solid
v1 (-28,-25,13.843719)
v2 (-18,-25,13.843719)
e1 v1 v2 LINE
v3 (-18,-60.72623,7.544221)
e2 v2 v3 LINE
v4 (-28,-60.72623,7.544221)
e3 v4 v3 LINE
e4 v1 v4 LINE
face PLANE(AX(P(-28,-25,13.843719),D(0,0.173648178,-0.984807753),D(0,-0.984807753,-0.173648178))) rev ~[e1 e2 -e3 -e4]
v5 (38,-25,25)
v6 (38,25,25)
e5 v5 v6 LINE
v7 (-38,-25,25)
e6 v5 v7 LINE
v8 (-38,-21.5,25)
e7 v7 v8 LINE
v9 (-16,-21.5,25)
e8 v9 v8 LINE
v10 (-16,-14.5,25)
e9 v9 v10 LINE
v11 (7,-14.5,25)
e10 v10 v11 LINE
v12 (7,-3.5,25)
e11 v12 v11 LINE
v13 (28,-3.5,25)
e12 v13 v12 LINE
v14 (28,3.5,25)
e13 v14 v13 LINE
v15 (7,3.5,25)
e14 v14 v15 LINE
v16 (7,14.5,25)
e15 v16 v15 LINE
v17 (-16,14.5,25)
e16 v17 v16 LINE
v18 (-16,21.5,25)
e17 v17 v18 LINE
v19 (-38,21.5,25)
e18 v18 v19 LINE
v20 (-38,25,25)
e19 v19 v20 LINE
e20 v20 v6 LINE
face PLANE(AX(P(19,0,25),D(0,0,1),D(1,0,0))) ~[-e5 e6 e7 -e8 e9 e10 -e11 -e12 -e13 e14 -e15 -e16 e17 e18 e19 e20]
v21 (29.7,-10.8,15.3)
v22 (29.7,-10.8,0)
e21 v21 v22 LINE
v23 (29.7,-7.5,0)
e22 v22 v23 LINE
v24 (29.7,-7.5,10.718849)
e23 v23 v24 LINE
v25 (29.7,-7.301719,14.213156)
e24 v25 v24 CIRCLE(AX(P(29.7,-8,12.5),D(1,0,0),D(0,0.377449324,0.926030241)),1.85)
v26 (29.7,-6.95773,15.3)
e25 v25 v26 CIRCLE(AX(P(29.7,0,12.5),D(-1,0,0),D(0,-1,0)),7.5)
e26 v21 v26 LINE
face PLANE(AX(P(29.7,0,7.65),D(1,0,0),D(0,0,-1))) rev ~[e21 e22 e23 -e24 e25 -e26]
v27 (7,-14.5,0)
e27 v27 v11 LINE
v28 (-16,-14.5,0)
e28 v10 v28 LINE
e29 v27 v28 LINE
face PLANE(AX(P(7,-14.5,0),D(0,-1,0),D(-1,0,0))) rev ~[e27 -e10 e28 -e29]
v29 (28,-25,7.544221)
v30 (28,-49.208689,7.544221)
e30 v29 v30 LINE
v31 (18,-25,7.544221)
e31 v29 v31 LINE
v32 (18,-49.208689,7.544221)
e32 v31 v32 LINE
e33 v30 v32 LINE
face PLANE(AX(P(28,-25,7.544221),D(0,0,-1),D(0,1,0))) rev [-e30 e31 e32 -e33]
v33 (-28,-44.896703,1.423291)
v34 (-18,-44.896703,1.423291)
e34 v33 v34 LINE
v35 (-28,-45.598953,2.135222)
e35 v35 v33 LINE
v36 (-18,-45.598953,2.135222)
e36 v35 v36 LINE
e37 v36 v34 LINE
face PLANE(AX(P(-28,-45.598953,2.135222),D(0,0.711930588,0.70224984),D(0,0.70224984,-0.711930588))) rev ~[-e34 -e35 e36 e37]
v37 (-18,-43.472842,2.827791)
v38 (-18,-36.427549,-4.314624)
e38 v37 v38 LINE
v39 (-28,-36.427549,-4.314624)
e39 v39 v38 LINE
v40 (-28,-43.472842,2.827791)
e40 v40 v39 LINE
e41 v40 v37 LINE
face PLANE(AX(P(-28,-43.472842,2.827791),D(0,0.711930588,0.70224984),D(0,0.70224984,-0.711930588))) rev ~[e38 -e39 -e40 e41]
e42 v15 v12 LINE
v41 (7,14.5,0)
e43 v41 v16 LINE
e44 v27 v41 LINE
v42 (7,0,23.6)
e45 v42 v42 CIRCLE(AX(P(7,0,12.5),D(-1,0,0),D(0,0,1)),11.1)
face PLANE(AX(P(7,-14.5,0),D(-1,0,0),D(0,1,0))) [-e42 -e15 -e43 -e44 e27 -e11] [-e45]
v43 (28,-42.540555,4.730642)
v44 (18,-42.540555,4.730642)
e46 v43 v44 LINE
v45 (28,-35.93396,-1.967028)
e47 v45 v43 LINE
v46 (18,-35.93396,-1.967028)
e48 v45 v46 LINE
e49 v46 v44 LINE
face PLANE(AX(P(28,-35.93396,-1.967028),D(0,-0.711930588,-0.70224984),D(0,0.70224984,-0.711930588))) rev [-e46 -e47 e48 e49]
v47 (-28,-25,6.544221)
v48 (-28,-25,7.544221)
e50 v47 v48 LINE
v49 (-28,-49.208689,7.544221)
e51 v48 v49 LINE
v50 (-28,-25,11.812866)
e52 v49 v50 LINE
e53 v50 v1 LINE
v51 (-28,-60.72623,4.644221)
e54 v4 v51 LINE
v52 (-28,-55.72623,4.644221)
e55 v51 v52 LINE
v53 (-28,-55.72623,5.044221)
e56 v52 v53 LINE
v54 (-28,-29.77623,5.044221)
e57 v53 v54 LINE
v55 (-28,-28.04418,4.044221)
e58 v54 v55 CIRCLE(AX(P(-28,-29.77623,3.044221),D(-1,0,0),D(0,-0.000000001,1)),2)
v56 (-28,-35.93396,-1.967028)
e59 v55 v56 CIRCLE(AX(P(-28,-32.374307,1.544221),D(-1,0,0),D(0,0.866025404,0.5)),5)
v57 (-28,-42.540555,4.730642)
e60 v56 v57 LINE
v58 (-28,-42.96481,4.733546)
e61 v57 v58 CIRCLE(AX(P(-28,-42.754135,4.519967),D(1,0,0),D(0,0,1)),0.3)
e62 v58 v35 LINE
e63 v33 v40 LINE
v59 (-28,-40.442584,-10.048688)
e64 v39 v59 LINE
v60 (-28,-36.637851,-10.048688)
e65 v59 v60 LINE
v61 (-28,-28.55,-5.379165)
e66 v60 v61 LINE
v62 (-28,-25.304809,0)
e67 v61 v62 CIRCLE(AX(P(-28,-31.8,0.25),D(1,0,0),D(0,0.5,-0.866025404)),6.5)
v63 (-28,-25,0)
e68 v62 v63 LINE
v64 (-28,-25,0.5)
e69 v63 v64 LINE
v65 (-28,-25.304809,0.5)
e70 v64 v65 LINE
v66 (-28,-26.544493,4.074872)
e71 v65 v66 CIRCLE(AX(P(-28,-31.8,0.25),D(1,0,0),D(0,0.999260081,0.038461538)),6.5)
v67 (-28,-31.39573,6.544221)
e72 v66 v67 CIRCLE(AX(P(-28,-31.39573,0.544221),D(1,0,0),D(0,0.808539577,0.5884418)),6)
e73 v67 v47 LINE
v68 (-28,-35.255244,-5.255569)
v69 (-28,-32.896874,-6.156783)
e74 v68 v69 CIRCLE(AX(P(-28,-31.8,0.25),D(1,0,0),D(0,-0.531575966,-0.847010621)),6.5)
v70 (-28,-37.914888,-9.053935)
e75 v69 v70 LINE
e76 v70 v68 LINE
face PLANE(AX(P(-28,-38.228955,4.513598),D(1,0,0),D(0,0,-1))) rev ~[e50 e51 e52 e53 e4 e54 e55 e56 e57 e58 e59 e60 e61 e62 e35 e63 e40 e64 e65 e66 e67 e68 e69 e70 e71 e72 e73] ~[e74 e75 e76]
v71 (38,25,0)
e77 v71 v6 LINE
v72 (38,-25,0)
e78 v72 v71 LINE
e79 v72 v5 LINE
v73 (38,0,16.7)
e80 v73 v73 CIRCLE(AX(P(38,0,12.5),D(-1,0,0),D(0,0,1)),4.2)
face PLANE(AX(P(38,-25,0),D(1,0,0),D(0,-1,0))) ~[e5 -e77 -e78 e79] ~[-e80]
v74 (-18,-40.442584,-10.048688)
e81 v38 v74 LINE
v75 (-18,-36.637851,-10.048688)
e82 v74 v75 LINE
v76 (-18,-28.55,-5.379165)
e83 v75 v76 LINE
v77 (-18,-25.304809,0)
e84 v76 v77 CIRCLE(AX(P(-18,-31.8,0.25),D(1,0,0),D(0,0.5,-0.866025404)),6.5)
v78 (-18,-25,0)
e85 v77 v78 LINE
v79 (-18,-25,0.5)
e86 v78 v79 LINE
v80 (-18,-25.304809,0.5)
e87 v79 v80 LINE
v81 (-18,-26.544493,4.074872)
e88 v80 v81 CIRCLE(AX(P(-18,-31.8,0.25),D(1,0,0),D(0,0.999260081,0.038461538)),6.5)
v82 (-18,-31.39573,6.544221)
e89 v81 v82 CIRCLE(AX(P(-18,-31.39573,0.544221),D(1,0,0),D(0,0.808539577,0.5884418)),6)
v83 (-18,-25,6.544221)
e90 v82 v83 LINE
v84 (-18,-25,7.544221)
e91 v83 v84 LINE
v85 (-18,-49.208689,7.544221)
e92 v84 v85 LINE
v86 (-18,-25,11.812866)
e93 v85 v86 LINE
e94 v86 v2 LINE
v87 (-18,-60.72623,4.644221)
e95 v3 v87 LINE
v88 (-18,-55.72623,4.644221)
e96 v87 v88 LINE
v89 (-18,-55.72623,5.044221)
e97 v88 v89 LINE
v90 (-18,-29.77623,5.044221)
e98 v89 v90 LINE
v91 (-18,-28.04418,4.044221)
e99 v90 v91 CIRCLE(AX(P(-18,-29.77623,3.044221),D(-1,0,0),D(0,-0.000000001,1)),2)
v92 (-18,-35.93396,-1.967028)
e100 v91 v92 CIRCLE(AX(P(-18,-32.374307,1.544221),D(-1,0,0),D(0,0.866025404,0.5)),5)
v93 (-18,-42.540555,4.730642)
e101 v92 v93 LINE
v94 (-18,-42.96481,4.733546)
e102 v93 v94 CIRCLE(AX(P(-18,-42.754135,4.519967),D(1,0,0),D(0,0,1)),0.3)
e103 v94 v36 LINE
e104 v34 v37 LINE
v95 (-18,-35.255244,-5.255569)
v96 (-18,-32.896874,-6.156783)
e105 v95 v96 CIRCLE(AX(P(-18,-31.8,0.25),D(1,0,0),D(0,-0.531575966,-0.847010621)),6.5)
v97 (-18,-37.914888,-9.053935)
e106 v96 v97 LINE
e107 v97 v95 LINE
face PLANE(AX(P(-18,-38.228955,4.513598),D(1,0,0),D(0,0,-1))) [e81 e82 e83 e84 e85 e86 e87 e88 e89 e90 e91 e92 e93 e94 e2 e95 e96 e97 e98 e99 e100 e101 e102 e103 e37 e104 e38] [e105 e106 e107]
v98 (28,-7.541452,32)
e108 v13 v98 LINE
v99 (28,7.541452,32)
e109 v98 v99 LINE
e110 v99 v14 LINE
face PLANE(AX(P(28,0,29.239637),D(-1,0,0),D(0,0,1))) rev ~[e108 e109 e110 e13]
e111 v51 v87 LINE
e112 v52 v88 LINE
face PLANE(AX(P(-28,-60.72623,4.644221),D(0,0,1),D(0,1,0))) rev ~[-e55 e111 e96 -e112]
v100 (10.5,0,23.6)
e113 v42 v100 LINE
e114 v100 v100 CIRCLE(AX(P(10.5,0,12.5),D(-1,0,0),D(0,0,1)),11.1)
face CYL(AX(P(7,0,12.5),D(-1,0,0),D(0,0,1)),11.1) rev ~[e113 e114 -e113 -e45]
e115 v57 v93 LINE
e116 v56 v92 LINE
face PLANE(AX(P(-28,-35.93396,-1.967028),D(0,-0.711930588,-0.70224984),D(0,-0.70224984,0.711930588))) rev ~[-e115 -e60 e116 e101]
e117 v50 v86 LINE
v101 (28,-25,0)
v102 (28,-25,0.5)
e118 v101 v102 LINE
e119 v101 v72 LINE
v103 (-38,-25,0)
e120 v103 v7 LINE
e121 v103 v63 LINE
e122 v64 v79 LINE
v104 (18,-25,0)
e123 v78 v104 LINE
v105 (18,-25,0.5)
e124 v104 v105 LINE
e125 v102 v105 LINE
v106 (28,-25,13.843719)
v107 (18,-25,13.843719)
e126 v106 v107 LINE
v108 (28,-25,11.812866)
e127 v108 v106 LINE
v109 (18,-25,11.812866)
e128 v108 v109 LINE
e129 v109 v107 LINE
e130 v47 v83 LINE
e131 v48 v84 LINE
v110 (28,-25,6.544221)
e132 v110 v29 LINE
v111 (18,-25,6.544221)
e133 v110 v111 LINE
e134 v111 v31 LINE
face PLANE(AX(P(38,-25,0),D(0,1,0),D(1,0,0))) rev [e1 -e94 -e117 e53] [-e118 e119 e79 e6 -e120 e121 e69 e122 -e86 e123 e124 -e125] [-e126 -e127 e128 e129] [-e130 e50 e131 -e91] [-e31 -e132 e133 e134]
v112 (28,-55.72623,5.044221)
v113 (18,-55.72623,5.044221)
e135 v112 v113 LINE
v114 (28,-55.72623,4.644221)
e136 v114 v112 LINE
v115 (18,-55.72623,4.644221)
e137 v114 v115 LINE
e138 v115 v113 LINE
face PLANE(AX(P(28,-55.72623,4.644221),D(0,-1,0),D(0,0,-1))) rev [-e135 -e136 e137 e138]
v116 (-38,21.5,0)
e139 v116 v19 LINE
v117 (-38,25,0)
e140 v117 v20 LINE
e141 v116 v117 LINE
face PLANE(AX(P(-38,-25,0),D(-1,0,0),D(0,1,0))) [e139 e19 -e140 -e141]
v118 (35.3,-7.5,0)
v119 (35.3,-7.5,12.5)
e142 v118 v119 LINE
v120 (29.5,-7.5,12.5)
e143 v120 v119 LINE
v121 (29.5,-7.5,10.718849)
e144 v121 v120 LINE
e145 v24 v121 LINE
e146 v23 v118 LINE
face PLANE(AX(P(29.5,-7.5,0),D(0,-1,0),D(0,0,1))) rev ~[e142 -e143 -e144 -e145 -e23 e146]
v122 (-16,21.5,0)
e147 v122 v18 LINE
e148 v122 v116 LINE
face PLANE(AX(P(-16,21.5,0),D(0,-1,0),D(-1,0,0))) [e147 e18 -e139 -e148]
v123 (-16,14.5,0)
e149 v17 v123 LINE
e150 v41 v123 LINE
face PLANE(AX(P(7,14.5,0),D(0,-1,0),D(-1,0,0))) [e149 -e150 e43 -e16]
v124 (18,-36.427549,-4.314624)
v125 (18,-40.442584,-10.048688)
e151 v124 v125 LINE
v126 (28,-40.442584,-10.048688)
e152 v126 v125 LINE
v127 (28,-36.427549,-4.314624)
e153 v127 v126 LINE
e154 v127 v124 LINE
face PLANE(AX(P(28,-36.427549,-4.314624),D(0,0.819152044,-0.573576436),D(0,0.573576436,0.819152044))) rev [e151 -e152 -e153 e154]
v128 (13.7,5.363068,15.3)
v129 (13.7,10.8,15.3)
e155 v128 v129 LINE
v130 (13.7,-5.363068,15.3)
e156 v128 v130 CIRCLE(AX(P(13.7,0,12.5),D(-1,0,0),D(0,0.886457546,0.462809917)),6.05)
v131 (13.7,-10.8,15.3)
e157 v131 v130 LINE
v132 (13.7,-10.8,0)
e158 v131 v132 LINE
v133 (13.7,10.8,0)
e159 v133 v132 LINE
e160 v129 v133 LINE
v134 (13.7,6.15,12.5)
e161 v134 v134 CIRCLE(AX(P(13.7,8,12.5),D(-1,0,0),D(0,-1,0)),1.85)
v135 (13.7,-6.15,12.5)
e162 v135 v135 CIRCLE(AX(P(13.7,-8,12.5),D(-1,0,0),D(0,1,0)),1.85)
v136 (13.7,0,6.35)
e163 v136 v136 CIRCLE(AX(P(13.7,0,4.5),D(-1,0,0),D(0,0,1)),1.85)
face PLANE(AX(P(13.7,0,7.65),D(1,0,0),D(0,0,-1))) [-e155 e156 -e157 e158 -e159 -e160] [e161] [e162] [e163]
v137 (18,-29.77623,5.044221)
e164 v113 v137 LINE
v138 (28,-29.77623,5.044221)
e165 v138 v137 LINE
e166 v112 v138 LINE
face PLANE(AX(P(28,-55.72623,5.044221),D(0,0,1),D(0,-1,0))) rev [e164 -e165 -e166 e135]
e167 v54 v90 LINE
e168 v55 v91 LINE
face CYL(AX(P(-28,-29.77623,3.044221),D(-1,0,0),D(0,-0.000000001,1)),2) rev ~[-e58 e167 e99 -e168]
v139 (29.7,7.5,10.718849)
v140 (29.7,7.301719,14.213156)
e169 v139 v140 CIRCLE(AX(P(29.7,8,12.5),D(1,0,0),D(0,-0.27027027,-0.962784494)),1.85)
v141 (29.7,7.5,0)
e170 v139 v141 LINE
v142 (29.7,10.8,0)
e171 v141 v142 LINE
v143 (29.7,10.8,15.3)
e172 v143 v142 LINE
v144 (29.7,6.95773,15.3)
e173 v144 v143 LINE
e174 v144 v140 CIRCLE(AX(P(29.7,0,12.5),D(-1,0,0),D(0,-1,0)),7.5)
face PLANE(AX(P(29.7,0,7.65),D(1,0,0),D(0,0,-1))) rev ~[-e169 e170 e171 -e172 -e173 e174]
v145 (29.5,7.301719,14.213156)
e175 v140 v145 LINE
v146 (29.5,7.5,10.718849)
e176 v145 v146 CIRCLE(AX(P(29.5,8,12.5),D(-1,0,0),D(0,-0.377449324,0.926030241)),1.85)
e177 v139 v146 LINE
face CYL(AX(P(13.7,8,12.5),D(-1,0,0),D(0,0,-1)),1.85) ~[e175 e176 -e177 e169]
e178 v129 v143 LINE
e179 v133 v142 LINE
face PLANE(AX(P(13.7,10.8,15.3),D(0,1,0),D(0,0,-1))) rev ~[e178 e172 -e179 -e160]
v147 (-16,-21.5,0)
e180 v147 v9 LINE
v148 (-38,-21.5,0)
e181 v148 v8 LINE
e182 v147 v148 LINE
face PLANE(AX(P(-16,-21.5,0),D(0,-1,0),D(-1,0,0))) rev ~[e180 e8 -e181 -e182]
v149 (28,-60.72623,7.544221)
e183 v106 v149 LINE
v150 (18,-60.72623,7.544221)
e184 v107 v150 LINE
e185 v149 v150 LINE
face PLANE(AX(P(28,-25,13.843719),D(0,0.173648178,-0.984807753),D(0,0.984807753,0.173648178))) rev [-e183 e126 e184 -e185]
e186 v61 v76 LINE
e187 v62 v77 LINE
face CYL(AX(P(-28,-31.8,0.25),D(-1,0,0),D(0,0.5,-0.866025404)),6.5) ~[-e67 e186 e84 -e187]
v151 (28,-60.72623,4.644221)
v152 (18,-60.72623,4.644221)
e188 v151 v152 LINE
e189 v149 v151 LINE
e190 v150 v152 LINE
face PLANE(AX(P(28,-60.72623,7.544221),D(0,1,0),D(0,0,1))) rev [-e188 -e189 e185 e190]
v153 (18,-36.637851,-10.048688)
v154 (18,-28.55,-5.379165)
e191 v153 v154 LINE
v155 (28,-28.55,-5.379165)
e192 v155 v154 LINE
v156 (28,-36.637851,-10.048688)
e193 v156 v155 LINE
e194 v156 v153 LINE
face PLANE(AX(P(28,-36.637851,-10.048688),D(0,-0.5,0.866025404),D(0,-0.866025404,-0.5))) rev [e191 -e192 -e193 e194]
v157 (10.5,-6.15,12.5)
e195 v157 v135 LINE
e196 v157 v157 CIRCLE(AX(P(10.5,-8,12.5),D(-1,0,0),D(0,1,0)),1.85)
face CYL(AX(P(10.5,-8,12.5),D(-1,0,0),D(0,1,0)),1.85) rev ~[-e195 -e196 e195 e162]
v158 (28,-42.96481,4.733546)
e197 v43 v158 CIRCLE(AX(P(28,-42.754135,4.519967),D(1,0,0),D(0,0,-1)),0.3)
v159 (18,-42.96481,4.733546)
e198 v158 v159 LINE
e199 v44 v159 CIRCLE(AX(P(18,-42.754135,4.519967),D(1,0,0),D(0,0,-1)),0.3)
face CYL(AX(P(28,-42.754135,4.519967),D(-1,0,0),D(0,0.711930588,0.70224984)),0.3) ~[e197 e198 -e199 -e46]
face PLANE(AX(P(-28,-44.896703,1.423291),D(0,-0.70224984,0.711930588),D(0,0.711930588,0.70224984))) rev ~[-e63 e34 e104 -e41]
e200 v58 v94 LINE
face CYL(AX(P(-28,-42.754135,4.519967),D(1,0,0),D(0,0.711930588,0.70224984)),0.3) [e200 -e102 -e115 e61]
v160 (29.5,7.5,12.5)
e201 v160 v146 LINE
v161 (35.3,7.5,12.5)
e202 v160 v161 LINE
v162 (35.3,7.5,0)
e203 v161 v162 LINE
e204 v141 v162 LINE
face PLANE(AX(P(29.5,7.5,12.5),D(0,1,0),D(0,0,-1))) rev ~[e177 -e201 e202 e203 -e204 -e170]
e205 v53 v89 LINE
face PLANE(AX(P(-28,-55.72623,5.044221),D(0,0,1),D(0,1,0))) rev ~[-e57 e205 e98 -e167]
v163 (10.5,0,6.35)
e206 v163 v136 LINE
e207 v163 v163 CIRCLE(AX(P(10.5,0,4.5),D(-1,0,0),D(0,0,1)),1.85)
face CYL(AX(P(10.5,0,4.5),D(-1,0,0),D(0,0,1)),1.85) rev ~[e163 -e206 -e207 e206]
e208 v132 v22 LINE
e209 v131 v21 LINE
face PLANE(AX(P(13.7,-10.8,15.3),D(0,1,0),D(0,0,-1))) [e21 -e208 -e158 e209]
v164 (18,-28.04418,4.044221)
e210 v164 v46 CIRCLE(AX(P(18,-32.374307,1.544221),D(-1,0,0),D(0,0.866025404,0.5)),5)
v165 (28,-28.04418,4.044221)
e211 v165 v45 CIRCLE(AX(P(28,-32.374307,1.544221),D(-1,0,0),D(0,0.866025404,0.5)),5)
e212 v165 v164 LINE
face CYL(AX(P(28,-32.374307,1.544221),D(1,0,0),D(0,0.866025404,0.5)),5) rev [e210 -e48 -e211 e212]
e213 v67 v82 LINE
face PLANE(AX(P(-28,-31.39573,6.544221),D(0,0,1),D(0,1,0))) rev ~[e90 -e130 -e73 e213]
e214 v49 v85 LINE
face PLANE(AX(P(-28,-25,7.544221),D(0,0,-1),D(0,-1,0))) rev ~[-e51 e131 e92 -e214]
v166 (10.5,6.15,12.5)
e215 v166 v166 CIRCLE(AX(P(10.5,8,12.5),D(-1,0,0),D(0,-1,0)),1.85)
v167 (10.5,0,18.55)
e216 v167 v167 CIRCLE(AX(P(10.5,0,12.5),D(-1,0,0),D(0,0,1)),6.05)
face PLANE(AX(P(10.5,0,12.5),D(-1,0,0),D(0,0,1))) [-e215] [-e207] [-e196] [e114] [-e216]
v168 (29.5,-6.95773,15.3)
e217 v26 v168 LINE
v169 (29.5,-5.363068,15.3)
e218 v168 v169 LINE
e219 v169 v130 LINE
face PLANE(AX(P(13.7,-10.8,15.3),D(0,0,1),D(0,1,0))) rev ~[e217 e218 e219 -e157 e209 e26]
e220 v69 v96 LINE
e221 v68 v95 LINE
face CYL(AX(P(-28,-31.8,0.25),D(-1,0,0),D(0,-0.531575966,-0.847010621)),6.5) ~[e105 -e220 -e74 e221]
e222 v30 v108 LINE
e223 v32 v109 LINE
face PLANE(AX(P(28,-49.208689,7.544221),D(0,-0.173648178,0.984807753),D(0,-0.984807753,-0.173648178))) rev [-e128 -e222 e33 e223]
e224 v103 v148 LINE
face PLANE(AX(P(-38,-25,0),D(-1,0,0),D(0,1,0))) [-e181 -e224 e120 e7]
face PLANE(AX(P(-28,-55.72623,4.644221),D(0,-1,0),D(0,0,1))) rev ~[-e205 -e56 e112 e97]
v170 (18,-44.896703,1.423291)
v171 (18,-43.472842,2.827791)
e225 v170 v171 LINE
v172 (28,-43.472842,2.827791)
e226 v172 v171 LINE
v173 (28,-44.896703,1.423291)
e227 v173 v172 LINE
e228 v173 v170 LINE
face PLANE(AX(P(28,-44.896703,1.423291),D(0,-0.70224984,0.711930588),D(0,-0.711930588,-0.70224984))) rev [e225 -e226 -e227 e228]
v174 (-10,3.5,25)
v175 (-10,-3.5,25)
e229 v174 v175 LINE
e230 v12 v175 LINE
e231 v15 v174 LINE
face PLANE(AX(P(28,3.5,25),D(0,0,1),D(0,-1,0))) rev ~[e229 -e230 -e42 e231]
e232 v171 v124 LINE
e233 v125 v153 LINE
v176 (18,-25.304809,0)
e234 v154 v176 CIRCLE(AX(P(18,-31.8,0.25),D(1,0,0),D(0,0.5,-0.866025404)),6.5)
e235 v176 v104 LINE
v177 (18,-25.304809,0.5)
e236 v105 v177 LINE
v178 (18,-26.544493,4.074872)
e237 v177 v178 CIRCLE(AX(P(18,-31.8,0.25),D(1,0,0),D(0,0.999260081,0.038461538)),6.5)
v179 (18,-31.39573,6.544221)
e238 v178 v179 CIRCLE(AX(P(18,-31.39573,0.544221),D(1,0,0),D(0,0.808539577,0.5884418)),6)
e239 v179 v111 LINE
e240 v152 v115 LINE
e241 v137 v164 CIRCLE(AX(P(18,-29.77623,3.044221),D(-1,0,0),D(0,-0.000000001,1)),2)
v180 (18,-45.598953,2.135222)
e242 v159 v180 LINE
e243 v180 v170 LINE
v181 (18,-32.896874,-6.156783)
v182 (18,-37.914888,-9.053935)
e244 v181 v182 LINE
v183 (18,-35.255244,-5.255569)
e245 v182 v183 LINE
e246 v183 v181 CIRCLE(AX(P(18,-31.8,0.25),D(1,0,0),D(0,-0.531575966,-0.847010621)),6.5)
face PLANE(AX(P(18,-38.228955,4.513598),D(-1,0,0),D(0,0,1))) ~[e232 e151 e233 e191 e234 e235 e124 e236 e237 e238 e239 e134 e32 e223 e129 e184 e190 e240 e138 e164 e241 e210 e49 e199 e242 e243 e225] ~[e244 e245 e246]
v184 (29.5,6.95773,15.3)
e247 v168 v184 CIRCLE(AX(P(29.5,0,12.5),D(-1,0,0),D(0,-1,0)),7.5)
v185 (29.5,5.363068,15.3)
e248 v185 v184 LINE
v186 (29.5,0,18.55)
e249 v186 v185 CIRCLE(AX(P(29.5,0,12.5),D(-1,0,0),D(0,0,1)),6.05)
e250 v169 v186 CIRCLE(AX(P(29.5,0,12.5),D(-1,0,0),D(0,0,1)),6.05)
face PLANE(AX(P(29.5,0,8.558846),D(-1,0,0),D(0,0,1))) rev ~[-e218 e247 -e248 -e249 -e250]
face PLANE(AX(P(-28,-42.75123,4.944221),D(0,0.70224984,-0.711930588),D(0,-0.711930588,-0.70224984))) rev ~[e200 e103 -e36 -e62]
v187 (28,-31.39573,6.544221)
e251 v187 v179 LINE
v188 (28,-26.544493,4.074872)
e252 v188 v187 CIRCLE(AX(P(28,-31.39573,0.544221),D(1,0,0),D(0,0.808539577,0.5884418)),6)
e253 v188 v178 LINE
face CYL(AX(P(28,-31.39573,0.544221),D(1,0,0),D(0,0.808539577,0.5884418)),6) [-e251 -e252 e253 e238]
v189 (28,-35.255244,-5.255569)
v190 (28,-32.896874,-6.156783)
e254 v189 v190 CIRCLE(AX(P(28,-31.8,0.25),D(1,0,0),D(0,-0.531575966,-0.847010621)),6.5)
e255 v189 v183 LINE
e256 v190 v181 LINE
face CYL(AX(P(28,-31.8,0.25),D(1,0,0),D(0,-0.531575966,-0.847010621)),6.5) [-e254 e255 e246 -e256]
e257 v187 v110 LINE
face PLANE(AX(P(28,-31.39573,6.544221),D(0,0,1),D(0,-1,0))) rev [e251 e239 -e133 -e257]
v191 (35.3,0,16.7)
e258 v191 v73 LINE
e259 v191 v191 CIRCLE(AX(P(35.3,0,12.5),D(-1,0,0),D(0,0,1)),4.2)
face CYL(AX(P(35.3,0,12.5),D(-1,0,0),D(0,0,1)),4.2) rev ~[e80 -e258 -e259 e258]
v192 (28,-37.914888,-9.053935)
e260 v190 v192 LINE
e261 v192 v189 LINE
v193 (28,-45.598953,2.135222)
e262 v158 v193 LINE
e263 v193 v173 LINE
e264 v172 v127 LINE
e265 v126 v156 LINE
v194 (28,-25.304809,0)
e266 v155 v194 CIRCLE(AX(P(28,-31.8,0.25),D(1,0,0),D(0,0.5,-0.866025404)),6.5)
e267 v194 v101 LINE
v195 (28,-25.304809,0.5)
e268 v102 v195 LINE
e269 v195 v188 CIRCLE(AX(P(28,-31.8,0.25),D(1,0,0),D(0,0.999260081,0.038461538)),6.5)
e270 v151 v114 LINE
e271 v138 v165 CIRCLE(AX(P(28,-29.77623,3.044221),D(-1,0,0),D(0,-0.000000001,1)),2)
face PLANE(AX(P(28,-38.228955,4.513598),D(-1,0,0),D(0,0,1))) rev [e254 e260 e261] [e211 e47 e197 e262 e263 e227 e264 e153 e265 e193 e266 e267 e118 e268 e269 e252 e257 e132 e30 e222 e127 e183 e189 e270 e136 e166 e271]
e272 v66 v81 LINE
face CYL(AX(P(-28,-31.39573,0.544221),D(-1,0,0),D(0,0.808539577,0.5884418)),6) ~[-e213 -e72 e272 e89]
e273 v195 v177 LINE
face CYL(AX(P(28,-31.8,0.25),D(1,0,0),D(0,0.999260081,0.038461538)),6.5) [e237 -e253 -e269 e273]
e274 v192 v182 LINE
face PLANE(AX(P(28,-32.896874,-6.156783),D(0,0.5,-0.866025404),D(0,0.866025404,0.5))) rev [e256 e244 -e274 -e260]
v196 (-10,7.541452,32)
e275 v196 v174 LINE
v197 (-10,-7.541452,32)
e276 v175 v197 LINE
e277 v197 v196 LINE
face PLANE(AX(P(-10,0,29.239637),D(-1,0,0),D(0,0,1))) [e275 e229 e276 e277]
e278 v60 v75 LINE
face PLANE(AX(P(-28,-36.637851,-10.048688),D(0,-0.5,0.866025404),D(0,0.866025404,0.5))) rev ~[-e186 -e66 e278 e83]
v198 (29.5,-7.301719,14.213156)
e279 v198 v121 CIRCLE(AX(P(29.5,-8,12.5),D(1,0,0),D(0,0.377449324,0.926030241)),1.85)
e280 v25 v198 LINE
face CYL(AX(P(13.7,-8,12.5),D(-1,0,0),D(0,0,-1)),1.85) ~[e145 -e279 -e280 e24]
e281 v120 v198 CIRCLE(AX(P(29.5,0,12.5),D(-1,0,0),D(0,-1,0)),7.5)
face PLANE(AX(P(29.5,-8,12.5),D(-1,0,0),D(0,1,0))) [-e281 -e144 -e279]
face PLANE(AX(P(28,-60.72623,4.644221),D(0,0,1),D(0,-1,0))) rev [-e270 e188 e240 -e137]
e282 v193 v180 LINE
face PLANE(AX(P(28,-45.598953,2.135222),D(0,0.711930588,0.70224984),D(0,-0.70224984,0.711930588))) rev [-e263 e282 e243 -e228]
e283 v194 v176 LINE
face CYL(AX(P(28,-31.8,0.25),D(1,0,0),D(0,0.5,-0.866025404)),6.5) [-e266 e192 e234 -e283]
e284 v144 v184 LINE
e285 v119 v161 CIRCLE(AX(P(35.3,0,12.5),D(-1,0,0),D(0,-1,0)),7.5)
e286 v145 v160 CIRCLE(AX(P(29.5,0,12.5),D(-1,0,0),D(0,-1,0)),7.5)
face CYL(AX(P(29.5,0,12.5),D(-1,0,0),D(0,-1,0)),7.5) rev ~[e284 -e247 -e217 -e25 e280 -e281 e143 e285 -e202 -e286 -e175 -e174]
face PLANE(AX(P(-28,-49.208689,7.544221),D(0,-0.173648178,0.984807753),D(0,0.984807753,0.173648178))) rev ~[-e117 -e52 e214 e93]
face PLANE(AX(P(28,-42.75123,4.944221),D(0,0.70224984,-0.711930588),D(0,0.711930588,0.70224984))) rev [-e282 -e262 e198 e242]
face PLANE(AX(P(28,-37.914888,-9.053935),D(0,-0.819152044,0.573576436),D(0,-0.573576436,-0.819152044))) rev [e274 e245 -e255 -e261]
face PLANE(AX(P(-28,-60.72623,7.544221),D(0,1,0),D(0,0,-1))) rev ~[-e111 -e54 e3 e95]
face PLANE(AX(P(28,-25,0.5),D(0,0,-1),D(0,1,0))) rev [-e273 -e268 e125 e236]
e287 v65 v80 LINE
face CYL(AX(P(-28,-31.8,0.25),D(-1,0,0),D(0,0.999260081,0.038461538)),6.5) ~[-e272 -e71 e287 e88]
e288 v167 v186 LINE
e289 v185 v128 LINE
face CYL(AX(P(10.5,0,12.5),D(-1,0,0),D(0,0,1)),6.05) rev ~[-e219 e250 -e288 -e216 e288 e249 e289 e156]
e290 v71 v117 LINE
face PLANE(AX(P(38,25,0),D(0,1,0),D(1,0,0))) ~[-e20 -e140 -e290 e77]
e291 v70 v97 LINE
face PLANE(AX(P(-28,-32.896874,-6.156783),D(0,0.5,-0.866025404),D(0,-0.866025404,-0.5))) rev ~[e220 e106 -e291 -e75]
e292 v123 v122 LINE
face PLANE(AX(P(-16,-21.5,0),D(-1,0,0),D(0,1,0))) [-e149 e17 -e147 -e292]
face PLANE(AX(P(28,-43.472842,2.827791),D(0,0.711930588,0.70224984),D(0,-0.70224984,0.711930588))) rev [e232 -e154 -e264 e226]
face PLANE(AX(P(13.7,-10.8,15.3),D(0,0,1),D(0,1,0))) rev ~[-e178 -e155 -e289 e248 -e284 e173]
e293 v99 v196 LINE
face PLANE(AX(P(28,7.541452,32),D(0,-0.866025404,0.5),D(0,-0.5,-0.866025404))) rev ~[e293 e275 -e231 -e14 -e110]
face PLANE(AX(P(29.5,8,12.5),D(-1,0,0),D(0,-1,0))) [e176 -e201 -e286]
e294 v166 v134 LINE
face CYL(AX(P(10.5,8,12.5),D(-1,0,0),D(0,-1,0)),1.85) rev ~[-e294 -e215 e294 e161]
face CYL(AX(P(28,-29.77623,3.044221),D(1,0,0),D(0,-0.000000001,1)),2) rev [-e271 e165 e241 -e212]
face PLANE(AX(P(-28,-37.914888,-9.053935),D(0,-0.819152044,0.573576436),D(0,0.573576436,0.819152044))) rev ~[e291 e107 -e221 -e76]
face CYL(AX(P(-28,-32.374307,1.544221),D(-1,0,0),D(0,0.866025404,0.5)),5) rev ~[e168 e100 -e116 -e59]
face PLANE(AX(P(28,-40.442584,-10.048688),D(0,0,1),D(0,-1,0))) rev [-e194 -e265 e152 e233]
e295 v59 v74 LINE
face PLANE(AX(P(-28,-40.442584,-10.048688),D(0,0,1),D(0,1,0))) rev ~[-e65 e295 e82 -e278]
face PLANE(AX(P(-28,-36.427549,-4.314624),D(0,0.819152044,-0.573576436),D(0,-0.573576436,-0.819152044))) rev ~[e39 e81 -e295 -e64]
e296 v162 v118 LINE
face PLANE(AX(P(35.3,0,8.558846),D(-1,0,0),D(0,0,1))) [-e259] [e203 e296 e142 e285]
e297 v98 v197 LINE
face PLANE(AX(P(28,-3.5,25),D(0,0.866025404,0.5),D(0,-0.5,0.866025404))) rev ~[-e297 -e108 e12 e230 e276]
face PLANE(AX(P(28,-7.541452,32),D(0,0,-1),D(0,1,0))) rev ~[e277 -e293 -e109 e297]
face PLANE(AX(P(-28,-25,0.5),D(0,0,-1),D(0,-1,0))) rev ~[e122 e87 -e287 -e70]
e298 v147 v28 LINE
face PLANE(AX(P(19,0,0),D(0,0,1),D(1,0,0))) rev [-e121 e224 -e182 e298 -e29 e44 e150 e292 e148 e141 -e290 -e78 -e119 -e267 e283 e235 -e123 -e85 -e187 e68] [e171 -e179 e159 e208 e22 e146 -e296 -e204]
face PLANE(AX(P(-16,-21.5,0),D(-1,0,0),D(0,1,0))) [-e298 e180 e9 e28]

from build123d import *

# Parameters (mm, degrees)
SKETCH1_W                       = 38
SKETCH1_H                       = 50
BOSS_EXTRUDE1_DEPTH             = 25
BOSS_EXTRUDE8_DEPTH             = 10
FILLET1_R                       = 0.3
FILLET1_OF_MIRROR1_R            = 0.3
CUT_EXTRUDE7_REACH              = 77.873
SKETCH15_W                      = 45
SKETCH15_H                      = 29
BOSS_EXTRUDE2_DEPTH             = 38
SKETCH16_R                      = 11.1
CUT_EXTRUDE8_DEPTH              = 3.5
SKETCH17_R                      = 6.05
CUT_EXTRUDE9_DEPTH              = 19
CUT_EXTRUDE10_DEPTH             = 5.8
CUT_EXTRUDE11_START             = -15.8
CUT_EXTRUDE11_DEPTH             = 15.8
SKETCH20_R                      = 1.85
CUT_EXTRUDE12_DEPTH             = 19
CIRPATTERN1_COUNT               = 2
CIRPATTERN1_ANGLE               = 90
CIRPATTERN1_THE_OTHER_WAY_COUNT = 2
CIRPATTERN1_THE_OTHER_WAY_ANGLE = 90
SKETCH24_W                      = 15.3
SKETCH24_H                      = 21.6
SKETCH24_R                      = 1.85
CUT_EXTRUDE13_DEPTH             = 16
SKETCH25_R                      = 4.2
CUT_EXTRUDE14_DEPTH             = 101.421935127
SKETCH27_W                      = 22
SKETCH27_H                      = 43
CUT_EXTRUDE15_DEPTH             = 25


with BuildPart() as part:
    # Sketch1 → Boss-Extrude1 (new body)
    with BuildSketch(Plane.XY):
        with Locations((-19, 0)):
            Rectangle(SKETCH1_W, SKETCH1_H)
    boss_extrude1 = extrude(amount=BOSS_EXTRUDE1_DEPTH)

    # Sketch11 → Boss-Extrude8 (add)
    with BuildSketch(Plane(origin=(-28, 0, 0), x_dir=(0, 0, -1), z_dir=(1, 0, 0))):
        with BuildLine():
            Line((-5.0442209, -55.726230367), (-5.0442209, -29.776230367))
            ThreePointArc((-5.0442209, -29.776230367), (-4.776271708, -28.776230367), (-4.0442209, -28.044179559))
            ThreePointArc((-4.0442209, -28.044179559), (2.432940548, -29.34409424), (1.9670283, -35.933959519))
            Line((1.9670283, -35.933959519), (-4.9442209, -42.751230367))
            Line((-4.9442209, -42.751230367), (-2.13522154, -45.598952719))
            Line((-2.13522154, -45.598952719), (-1.423290952, -44.896702879))
            Line((-1.423290952, -44.896702879), (-2.827790632, -43.472841703))
            Line((-2.827790632, -43.472841703), (4.31462396, -36.427548823))
            Line((4.31462396, -36.427548823), (10.04868827, -40.442583877))
            Line((10.04868827, -40.442583877), (10.04868827, -36.637851334))
            Line((10.04868827, -36.637851334), (5.379165125, -28.55))
            ThreePointArc((5.379165125, -28.55), (3.107671966, -26.234387817), (0, -25.304809472))
            Line((0, -25.304809472), (0, -25))
            Line((0, -25), (-0.5, -25))
            Line((-0.5, -25), (-0.5, -25.304809472))
            ThreePointArc((-0.5, -25.304809472), (-2.379635768, -25.65877443), (-4.074871702, -26.544492749))
            ThreePointArc((-4.074871702, -26.544492749), (-5.891365223, -28.673957334), (-6.5442209, -31.395730211))
            Line((-6.5442209, -31.395730211), (-6.5442209, -25))
            Line((-6.5442209, -25), (-7.5442209, -25))
            Line((-7.5442209, -25), (-7.5442209, -49.208689401))
            Line((-7.5442209, -49.208689401), (-11.812866009, -25))
            Line((-11.812866009, -25), (-13.843719233, -25))
            Line((-13.843719233, -25), (-7.5442209, -60.726230367))
            Line((-7.5442209, -60.726230367), (-4.6442209, -60.726230367))
            Line((-4.6442209, -60.726230367), (-4.6442209, -55.726230367))
            Line((-4.6442209, -55.726230367), (-5.0442209, -55.726230367))
        make_face()
        with BuildLine():
            ThreePointArc((5.255569039, -35.255243777), (5.821779814, -34.120234879), (6.156782985, -32.896873642))
            Line((6.156782985, -32.896873642), (9.053935122, -37.914888341))
            Line((9.053935122, -37.914888341), (5.255569039, -35.255243777))
        make_face(mode=Mode.SUBTRACT)
    boss_extrude8 = extrude(amount=BOSS_EXTRUDE8_DEPTH)

    # Fillet1
    fillet1_edges = [part.edges().sort_by_distance(p)[0] for p in [
        (-23, -42.751230367, 4.9442209),
    ]]
    fillet(fillet1_edges, radius=FILLET1_R)

    # Mirror1: Boss-Extrude1, Boss-Extrude8 across plane
    add(boss_extrude1.mirror(Plane(origin=(0, 0, 0), x_dir=(0, 0, 1), z_dir=(1, 0, 0))))
    add(boss_extrude8.mirror(Plane(origin=(0, 0, 0), x_dir=(0, 0, 1), z_dir=(1, 0, 0))))

    # Fillet1 of Mirror1
    fillet1_of_mirror1_edges = [part.edges().sort_by_distance(p)[0] for p in [
        (23, -42.751230367, 4.9442209),
    ]]
    fillet(fillet1_of_mirror1_edges, radius=FILLET1_OF_MIRROR1_R)

    # Sketch15 → Cut-Extrude7 (cut, up to next)
    with BuildSketch(Plane(origin=(0, 0, 0), x_dir=(-1, 0, 0), z_dir=(0, 0, -1)), mode=Mode.PRIVATE) as cut_extrude7_sk1:
        with Locations((15.5, 0)):
            Rectangle(SKETCH15_W, SKETCH15_H)
    cut_extrude7_tool1 = extrude(cut_extrude7_sk1.sketch, amount=-CUT_EXTRUDE7_REACH, mode=Mode.PRIVATE) & part.part
    add(cut_extrude7_tool1.solids().sort_by_distance((-15.5, 0, 0))[0], mode=Mode.SUBTRACT)

    # Sketch2 → Boss-Extrude2 (add)
    with BuildSketch(Plane.ZY.offset(-28)):
        Polygon((32, 7.541451884), (25, 3.5), (25, -3.5), (32, -7.541451884), align=None)
    extrude(amount=BOSS_EXTRUDE2_DEPTH)

    # Sketch16 → Cut-Extrude8 (cut)
    with BuildSketch(Plane.ZY.offset(-7)):
        with Locations((12.5, 0)):
            Circle(SKETCH16_R)
    extrude(amount=-CUT_EXTRUDE8_DEPTH, mode=Mode.SUBTRACT)

    # Sketch17 → Cut-Extrude9 (cut)
    with BuildSketch(Plane.ZY.offset(-10.5)):
        with Locations((12.5, 0)):
            Circle(SKETCH17_R)
    extrude(amount=-CUT_EXTRUDE9_DEPTH, mode=Mode.SUBTRACT)

    # Sketch18 → Cut-Extrude10 (cut)
    with BuildSketch(Plane.ZY.offset(-29.5)):
        with BuildLine():
            Line((0, -7.5), (12.5, -7.5))
            ThreePointArc((12.5, -7.5), (20, 0), (12.5, 7.5))
            Line((12.5, 7.5), (0, 7.5))
            Line((0, 7.5), (0, -7.5))
        make_face()
    extrude(amount=-CUT_EXTRUDE10_DEPTH, mode=Mode.SUBTRACT)

    # Sketch19 → Cut-Extrude11 (cut)
    with BuildSketch(Plane(origin=(29.5, 0, 0), x_dir=(0, 0, -1), z_dir=(1, 0, 0)).offset(CUT_EXTRUDE11_START)):
        with BuildLine():
            Line((-12.5, 6.05), (0, 6.05))
            Line((0, 6.05), (0, -6.05))
            Line((0, -6.05), (-12.5, -6.05))
            ThreePointArc((-12.5, -6.05), (-18.55, 0), (-12.5, 6.05))
        make_face()
    extrude(amount=CUT_EXTRUDE11_DEPTH, mode=Mode.SUBTRACT)

    # Sketch20 → Cut-Extrude12 (cut)
    with BuildSketch(Plane.ZY.offset(-10.5)):
        with Locations((4.5, 0)):
            Circle(SKETCH20_R)
    cut_extrude12 = extrude(amount=-CUT_EXTRUDE12_DEPTH, mode=Mode.SUBTRACT)

    # CirPattern1: Cut-Extrude12 ×2 about axis
    cirpattern1_axis = Axis((29.5, 0, 12.5), (-1, 0, 0))
    for i in range(1, CIRPATTERN1_COUNT):
        add(cut_extrude12.rotate(cirpattern1_axis, i * CIRPATTERN1_ANGLE / (CIRPATTERN1_COUNT - 1)), mode=Mode.SUBTRACT)

    # CirPattern1 the other way: Cut-Extrude12 ×2 about axis
    cirpattern1_the_other_way_axis = Axis((29.5, 0, 12.5), (1, 0, 0))
    for i in range(1, CIRPATTERN1_THE_OTHER_WAY_COUNT):
        add(cut_extrude12.rotate(cirpattern1_the_other_way_axis, i * CIRPATTERN1_THE_OTHER_WAY_ANGLE / (CIRPATTERN1_THE_OTHER_WAY_COUNT - 1)), mode=Mode.SUBTRACT)

    # Sketch24 → Cut-Extrude13 (cut)
    with BuildSketch(Plane(origin=(13.7, 0, 0), x_dir=(0, 0, -1), z_dir=(1, 0, 0))):
        with Locations((-7.65, 0)):
            Rectangle(SKETCH24_W, SKETCH24_H)
        with Locations((-12.5, -8)):
            Circle(SKETCH24_R, mode=Mode.SUBTRACT)
        with Locations((-12.5, 8)):
            Circle(SKETCH24_R, mode=Mode.SUBTRACT)
    extrude(amount=CUT_EXTRUDE13_DEPTH, mode=Mode.SUBTRACT)

    # Sketch25 → Cut-Extrude14 (cut, through all)
    with BuildSketch(Plane.ZY.offset(-35.3)):
        with Locations((12.5, 0)):
            Circle(SKETCH25_R)
    extrude(amount=-CUT_EXTRUDE14_DEPTH, mode=Mode.SUBTRACT)

    # Sketch27 → Cut-Extrude15 (cut)
    with BuildSketch(Plane(origin=(0, 0, 0), x_dir=(-1, 0, 0), z_dir=(0, 0, -1))):
        with Locations((27, 0)):
            Rectangle(SKETCH27_W, SKETCH27_H)
    extrude(amount=-CUT_EXTRUDE15_DEPTH, mode=Mode.SUBTRACT)


solid = part.part
